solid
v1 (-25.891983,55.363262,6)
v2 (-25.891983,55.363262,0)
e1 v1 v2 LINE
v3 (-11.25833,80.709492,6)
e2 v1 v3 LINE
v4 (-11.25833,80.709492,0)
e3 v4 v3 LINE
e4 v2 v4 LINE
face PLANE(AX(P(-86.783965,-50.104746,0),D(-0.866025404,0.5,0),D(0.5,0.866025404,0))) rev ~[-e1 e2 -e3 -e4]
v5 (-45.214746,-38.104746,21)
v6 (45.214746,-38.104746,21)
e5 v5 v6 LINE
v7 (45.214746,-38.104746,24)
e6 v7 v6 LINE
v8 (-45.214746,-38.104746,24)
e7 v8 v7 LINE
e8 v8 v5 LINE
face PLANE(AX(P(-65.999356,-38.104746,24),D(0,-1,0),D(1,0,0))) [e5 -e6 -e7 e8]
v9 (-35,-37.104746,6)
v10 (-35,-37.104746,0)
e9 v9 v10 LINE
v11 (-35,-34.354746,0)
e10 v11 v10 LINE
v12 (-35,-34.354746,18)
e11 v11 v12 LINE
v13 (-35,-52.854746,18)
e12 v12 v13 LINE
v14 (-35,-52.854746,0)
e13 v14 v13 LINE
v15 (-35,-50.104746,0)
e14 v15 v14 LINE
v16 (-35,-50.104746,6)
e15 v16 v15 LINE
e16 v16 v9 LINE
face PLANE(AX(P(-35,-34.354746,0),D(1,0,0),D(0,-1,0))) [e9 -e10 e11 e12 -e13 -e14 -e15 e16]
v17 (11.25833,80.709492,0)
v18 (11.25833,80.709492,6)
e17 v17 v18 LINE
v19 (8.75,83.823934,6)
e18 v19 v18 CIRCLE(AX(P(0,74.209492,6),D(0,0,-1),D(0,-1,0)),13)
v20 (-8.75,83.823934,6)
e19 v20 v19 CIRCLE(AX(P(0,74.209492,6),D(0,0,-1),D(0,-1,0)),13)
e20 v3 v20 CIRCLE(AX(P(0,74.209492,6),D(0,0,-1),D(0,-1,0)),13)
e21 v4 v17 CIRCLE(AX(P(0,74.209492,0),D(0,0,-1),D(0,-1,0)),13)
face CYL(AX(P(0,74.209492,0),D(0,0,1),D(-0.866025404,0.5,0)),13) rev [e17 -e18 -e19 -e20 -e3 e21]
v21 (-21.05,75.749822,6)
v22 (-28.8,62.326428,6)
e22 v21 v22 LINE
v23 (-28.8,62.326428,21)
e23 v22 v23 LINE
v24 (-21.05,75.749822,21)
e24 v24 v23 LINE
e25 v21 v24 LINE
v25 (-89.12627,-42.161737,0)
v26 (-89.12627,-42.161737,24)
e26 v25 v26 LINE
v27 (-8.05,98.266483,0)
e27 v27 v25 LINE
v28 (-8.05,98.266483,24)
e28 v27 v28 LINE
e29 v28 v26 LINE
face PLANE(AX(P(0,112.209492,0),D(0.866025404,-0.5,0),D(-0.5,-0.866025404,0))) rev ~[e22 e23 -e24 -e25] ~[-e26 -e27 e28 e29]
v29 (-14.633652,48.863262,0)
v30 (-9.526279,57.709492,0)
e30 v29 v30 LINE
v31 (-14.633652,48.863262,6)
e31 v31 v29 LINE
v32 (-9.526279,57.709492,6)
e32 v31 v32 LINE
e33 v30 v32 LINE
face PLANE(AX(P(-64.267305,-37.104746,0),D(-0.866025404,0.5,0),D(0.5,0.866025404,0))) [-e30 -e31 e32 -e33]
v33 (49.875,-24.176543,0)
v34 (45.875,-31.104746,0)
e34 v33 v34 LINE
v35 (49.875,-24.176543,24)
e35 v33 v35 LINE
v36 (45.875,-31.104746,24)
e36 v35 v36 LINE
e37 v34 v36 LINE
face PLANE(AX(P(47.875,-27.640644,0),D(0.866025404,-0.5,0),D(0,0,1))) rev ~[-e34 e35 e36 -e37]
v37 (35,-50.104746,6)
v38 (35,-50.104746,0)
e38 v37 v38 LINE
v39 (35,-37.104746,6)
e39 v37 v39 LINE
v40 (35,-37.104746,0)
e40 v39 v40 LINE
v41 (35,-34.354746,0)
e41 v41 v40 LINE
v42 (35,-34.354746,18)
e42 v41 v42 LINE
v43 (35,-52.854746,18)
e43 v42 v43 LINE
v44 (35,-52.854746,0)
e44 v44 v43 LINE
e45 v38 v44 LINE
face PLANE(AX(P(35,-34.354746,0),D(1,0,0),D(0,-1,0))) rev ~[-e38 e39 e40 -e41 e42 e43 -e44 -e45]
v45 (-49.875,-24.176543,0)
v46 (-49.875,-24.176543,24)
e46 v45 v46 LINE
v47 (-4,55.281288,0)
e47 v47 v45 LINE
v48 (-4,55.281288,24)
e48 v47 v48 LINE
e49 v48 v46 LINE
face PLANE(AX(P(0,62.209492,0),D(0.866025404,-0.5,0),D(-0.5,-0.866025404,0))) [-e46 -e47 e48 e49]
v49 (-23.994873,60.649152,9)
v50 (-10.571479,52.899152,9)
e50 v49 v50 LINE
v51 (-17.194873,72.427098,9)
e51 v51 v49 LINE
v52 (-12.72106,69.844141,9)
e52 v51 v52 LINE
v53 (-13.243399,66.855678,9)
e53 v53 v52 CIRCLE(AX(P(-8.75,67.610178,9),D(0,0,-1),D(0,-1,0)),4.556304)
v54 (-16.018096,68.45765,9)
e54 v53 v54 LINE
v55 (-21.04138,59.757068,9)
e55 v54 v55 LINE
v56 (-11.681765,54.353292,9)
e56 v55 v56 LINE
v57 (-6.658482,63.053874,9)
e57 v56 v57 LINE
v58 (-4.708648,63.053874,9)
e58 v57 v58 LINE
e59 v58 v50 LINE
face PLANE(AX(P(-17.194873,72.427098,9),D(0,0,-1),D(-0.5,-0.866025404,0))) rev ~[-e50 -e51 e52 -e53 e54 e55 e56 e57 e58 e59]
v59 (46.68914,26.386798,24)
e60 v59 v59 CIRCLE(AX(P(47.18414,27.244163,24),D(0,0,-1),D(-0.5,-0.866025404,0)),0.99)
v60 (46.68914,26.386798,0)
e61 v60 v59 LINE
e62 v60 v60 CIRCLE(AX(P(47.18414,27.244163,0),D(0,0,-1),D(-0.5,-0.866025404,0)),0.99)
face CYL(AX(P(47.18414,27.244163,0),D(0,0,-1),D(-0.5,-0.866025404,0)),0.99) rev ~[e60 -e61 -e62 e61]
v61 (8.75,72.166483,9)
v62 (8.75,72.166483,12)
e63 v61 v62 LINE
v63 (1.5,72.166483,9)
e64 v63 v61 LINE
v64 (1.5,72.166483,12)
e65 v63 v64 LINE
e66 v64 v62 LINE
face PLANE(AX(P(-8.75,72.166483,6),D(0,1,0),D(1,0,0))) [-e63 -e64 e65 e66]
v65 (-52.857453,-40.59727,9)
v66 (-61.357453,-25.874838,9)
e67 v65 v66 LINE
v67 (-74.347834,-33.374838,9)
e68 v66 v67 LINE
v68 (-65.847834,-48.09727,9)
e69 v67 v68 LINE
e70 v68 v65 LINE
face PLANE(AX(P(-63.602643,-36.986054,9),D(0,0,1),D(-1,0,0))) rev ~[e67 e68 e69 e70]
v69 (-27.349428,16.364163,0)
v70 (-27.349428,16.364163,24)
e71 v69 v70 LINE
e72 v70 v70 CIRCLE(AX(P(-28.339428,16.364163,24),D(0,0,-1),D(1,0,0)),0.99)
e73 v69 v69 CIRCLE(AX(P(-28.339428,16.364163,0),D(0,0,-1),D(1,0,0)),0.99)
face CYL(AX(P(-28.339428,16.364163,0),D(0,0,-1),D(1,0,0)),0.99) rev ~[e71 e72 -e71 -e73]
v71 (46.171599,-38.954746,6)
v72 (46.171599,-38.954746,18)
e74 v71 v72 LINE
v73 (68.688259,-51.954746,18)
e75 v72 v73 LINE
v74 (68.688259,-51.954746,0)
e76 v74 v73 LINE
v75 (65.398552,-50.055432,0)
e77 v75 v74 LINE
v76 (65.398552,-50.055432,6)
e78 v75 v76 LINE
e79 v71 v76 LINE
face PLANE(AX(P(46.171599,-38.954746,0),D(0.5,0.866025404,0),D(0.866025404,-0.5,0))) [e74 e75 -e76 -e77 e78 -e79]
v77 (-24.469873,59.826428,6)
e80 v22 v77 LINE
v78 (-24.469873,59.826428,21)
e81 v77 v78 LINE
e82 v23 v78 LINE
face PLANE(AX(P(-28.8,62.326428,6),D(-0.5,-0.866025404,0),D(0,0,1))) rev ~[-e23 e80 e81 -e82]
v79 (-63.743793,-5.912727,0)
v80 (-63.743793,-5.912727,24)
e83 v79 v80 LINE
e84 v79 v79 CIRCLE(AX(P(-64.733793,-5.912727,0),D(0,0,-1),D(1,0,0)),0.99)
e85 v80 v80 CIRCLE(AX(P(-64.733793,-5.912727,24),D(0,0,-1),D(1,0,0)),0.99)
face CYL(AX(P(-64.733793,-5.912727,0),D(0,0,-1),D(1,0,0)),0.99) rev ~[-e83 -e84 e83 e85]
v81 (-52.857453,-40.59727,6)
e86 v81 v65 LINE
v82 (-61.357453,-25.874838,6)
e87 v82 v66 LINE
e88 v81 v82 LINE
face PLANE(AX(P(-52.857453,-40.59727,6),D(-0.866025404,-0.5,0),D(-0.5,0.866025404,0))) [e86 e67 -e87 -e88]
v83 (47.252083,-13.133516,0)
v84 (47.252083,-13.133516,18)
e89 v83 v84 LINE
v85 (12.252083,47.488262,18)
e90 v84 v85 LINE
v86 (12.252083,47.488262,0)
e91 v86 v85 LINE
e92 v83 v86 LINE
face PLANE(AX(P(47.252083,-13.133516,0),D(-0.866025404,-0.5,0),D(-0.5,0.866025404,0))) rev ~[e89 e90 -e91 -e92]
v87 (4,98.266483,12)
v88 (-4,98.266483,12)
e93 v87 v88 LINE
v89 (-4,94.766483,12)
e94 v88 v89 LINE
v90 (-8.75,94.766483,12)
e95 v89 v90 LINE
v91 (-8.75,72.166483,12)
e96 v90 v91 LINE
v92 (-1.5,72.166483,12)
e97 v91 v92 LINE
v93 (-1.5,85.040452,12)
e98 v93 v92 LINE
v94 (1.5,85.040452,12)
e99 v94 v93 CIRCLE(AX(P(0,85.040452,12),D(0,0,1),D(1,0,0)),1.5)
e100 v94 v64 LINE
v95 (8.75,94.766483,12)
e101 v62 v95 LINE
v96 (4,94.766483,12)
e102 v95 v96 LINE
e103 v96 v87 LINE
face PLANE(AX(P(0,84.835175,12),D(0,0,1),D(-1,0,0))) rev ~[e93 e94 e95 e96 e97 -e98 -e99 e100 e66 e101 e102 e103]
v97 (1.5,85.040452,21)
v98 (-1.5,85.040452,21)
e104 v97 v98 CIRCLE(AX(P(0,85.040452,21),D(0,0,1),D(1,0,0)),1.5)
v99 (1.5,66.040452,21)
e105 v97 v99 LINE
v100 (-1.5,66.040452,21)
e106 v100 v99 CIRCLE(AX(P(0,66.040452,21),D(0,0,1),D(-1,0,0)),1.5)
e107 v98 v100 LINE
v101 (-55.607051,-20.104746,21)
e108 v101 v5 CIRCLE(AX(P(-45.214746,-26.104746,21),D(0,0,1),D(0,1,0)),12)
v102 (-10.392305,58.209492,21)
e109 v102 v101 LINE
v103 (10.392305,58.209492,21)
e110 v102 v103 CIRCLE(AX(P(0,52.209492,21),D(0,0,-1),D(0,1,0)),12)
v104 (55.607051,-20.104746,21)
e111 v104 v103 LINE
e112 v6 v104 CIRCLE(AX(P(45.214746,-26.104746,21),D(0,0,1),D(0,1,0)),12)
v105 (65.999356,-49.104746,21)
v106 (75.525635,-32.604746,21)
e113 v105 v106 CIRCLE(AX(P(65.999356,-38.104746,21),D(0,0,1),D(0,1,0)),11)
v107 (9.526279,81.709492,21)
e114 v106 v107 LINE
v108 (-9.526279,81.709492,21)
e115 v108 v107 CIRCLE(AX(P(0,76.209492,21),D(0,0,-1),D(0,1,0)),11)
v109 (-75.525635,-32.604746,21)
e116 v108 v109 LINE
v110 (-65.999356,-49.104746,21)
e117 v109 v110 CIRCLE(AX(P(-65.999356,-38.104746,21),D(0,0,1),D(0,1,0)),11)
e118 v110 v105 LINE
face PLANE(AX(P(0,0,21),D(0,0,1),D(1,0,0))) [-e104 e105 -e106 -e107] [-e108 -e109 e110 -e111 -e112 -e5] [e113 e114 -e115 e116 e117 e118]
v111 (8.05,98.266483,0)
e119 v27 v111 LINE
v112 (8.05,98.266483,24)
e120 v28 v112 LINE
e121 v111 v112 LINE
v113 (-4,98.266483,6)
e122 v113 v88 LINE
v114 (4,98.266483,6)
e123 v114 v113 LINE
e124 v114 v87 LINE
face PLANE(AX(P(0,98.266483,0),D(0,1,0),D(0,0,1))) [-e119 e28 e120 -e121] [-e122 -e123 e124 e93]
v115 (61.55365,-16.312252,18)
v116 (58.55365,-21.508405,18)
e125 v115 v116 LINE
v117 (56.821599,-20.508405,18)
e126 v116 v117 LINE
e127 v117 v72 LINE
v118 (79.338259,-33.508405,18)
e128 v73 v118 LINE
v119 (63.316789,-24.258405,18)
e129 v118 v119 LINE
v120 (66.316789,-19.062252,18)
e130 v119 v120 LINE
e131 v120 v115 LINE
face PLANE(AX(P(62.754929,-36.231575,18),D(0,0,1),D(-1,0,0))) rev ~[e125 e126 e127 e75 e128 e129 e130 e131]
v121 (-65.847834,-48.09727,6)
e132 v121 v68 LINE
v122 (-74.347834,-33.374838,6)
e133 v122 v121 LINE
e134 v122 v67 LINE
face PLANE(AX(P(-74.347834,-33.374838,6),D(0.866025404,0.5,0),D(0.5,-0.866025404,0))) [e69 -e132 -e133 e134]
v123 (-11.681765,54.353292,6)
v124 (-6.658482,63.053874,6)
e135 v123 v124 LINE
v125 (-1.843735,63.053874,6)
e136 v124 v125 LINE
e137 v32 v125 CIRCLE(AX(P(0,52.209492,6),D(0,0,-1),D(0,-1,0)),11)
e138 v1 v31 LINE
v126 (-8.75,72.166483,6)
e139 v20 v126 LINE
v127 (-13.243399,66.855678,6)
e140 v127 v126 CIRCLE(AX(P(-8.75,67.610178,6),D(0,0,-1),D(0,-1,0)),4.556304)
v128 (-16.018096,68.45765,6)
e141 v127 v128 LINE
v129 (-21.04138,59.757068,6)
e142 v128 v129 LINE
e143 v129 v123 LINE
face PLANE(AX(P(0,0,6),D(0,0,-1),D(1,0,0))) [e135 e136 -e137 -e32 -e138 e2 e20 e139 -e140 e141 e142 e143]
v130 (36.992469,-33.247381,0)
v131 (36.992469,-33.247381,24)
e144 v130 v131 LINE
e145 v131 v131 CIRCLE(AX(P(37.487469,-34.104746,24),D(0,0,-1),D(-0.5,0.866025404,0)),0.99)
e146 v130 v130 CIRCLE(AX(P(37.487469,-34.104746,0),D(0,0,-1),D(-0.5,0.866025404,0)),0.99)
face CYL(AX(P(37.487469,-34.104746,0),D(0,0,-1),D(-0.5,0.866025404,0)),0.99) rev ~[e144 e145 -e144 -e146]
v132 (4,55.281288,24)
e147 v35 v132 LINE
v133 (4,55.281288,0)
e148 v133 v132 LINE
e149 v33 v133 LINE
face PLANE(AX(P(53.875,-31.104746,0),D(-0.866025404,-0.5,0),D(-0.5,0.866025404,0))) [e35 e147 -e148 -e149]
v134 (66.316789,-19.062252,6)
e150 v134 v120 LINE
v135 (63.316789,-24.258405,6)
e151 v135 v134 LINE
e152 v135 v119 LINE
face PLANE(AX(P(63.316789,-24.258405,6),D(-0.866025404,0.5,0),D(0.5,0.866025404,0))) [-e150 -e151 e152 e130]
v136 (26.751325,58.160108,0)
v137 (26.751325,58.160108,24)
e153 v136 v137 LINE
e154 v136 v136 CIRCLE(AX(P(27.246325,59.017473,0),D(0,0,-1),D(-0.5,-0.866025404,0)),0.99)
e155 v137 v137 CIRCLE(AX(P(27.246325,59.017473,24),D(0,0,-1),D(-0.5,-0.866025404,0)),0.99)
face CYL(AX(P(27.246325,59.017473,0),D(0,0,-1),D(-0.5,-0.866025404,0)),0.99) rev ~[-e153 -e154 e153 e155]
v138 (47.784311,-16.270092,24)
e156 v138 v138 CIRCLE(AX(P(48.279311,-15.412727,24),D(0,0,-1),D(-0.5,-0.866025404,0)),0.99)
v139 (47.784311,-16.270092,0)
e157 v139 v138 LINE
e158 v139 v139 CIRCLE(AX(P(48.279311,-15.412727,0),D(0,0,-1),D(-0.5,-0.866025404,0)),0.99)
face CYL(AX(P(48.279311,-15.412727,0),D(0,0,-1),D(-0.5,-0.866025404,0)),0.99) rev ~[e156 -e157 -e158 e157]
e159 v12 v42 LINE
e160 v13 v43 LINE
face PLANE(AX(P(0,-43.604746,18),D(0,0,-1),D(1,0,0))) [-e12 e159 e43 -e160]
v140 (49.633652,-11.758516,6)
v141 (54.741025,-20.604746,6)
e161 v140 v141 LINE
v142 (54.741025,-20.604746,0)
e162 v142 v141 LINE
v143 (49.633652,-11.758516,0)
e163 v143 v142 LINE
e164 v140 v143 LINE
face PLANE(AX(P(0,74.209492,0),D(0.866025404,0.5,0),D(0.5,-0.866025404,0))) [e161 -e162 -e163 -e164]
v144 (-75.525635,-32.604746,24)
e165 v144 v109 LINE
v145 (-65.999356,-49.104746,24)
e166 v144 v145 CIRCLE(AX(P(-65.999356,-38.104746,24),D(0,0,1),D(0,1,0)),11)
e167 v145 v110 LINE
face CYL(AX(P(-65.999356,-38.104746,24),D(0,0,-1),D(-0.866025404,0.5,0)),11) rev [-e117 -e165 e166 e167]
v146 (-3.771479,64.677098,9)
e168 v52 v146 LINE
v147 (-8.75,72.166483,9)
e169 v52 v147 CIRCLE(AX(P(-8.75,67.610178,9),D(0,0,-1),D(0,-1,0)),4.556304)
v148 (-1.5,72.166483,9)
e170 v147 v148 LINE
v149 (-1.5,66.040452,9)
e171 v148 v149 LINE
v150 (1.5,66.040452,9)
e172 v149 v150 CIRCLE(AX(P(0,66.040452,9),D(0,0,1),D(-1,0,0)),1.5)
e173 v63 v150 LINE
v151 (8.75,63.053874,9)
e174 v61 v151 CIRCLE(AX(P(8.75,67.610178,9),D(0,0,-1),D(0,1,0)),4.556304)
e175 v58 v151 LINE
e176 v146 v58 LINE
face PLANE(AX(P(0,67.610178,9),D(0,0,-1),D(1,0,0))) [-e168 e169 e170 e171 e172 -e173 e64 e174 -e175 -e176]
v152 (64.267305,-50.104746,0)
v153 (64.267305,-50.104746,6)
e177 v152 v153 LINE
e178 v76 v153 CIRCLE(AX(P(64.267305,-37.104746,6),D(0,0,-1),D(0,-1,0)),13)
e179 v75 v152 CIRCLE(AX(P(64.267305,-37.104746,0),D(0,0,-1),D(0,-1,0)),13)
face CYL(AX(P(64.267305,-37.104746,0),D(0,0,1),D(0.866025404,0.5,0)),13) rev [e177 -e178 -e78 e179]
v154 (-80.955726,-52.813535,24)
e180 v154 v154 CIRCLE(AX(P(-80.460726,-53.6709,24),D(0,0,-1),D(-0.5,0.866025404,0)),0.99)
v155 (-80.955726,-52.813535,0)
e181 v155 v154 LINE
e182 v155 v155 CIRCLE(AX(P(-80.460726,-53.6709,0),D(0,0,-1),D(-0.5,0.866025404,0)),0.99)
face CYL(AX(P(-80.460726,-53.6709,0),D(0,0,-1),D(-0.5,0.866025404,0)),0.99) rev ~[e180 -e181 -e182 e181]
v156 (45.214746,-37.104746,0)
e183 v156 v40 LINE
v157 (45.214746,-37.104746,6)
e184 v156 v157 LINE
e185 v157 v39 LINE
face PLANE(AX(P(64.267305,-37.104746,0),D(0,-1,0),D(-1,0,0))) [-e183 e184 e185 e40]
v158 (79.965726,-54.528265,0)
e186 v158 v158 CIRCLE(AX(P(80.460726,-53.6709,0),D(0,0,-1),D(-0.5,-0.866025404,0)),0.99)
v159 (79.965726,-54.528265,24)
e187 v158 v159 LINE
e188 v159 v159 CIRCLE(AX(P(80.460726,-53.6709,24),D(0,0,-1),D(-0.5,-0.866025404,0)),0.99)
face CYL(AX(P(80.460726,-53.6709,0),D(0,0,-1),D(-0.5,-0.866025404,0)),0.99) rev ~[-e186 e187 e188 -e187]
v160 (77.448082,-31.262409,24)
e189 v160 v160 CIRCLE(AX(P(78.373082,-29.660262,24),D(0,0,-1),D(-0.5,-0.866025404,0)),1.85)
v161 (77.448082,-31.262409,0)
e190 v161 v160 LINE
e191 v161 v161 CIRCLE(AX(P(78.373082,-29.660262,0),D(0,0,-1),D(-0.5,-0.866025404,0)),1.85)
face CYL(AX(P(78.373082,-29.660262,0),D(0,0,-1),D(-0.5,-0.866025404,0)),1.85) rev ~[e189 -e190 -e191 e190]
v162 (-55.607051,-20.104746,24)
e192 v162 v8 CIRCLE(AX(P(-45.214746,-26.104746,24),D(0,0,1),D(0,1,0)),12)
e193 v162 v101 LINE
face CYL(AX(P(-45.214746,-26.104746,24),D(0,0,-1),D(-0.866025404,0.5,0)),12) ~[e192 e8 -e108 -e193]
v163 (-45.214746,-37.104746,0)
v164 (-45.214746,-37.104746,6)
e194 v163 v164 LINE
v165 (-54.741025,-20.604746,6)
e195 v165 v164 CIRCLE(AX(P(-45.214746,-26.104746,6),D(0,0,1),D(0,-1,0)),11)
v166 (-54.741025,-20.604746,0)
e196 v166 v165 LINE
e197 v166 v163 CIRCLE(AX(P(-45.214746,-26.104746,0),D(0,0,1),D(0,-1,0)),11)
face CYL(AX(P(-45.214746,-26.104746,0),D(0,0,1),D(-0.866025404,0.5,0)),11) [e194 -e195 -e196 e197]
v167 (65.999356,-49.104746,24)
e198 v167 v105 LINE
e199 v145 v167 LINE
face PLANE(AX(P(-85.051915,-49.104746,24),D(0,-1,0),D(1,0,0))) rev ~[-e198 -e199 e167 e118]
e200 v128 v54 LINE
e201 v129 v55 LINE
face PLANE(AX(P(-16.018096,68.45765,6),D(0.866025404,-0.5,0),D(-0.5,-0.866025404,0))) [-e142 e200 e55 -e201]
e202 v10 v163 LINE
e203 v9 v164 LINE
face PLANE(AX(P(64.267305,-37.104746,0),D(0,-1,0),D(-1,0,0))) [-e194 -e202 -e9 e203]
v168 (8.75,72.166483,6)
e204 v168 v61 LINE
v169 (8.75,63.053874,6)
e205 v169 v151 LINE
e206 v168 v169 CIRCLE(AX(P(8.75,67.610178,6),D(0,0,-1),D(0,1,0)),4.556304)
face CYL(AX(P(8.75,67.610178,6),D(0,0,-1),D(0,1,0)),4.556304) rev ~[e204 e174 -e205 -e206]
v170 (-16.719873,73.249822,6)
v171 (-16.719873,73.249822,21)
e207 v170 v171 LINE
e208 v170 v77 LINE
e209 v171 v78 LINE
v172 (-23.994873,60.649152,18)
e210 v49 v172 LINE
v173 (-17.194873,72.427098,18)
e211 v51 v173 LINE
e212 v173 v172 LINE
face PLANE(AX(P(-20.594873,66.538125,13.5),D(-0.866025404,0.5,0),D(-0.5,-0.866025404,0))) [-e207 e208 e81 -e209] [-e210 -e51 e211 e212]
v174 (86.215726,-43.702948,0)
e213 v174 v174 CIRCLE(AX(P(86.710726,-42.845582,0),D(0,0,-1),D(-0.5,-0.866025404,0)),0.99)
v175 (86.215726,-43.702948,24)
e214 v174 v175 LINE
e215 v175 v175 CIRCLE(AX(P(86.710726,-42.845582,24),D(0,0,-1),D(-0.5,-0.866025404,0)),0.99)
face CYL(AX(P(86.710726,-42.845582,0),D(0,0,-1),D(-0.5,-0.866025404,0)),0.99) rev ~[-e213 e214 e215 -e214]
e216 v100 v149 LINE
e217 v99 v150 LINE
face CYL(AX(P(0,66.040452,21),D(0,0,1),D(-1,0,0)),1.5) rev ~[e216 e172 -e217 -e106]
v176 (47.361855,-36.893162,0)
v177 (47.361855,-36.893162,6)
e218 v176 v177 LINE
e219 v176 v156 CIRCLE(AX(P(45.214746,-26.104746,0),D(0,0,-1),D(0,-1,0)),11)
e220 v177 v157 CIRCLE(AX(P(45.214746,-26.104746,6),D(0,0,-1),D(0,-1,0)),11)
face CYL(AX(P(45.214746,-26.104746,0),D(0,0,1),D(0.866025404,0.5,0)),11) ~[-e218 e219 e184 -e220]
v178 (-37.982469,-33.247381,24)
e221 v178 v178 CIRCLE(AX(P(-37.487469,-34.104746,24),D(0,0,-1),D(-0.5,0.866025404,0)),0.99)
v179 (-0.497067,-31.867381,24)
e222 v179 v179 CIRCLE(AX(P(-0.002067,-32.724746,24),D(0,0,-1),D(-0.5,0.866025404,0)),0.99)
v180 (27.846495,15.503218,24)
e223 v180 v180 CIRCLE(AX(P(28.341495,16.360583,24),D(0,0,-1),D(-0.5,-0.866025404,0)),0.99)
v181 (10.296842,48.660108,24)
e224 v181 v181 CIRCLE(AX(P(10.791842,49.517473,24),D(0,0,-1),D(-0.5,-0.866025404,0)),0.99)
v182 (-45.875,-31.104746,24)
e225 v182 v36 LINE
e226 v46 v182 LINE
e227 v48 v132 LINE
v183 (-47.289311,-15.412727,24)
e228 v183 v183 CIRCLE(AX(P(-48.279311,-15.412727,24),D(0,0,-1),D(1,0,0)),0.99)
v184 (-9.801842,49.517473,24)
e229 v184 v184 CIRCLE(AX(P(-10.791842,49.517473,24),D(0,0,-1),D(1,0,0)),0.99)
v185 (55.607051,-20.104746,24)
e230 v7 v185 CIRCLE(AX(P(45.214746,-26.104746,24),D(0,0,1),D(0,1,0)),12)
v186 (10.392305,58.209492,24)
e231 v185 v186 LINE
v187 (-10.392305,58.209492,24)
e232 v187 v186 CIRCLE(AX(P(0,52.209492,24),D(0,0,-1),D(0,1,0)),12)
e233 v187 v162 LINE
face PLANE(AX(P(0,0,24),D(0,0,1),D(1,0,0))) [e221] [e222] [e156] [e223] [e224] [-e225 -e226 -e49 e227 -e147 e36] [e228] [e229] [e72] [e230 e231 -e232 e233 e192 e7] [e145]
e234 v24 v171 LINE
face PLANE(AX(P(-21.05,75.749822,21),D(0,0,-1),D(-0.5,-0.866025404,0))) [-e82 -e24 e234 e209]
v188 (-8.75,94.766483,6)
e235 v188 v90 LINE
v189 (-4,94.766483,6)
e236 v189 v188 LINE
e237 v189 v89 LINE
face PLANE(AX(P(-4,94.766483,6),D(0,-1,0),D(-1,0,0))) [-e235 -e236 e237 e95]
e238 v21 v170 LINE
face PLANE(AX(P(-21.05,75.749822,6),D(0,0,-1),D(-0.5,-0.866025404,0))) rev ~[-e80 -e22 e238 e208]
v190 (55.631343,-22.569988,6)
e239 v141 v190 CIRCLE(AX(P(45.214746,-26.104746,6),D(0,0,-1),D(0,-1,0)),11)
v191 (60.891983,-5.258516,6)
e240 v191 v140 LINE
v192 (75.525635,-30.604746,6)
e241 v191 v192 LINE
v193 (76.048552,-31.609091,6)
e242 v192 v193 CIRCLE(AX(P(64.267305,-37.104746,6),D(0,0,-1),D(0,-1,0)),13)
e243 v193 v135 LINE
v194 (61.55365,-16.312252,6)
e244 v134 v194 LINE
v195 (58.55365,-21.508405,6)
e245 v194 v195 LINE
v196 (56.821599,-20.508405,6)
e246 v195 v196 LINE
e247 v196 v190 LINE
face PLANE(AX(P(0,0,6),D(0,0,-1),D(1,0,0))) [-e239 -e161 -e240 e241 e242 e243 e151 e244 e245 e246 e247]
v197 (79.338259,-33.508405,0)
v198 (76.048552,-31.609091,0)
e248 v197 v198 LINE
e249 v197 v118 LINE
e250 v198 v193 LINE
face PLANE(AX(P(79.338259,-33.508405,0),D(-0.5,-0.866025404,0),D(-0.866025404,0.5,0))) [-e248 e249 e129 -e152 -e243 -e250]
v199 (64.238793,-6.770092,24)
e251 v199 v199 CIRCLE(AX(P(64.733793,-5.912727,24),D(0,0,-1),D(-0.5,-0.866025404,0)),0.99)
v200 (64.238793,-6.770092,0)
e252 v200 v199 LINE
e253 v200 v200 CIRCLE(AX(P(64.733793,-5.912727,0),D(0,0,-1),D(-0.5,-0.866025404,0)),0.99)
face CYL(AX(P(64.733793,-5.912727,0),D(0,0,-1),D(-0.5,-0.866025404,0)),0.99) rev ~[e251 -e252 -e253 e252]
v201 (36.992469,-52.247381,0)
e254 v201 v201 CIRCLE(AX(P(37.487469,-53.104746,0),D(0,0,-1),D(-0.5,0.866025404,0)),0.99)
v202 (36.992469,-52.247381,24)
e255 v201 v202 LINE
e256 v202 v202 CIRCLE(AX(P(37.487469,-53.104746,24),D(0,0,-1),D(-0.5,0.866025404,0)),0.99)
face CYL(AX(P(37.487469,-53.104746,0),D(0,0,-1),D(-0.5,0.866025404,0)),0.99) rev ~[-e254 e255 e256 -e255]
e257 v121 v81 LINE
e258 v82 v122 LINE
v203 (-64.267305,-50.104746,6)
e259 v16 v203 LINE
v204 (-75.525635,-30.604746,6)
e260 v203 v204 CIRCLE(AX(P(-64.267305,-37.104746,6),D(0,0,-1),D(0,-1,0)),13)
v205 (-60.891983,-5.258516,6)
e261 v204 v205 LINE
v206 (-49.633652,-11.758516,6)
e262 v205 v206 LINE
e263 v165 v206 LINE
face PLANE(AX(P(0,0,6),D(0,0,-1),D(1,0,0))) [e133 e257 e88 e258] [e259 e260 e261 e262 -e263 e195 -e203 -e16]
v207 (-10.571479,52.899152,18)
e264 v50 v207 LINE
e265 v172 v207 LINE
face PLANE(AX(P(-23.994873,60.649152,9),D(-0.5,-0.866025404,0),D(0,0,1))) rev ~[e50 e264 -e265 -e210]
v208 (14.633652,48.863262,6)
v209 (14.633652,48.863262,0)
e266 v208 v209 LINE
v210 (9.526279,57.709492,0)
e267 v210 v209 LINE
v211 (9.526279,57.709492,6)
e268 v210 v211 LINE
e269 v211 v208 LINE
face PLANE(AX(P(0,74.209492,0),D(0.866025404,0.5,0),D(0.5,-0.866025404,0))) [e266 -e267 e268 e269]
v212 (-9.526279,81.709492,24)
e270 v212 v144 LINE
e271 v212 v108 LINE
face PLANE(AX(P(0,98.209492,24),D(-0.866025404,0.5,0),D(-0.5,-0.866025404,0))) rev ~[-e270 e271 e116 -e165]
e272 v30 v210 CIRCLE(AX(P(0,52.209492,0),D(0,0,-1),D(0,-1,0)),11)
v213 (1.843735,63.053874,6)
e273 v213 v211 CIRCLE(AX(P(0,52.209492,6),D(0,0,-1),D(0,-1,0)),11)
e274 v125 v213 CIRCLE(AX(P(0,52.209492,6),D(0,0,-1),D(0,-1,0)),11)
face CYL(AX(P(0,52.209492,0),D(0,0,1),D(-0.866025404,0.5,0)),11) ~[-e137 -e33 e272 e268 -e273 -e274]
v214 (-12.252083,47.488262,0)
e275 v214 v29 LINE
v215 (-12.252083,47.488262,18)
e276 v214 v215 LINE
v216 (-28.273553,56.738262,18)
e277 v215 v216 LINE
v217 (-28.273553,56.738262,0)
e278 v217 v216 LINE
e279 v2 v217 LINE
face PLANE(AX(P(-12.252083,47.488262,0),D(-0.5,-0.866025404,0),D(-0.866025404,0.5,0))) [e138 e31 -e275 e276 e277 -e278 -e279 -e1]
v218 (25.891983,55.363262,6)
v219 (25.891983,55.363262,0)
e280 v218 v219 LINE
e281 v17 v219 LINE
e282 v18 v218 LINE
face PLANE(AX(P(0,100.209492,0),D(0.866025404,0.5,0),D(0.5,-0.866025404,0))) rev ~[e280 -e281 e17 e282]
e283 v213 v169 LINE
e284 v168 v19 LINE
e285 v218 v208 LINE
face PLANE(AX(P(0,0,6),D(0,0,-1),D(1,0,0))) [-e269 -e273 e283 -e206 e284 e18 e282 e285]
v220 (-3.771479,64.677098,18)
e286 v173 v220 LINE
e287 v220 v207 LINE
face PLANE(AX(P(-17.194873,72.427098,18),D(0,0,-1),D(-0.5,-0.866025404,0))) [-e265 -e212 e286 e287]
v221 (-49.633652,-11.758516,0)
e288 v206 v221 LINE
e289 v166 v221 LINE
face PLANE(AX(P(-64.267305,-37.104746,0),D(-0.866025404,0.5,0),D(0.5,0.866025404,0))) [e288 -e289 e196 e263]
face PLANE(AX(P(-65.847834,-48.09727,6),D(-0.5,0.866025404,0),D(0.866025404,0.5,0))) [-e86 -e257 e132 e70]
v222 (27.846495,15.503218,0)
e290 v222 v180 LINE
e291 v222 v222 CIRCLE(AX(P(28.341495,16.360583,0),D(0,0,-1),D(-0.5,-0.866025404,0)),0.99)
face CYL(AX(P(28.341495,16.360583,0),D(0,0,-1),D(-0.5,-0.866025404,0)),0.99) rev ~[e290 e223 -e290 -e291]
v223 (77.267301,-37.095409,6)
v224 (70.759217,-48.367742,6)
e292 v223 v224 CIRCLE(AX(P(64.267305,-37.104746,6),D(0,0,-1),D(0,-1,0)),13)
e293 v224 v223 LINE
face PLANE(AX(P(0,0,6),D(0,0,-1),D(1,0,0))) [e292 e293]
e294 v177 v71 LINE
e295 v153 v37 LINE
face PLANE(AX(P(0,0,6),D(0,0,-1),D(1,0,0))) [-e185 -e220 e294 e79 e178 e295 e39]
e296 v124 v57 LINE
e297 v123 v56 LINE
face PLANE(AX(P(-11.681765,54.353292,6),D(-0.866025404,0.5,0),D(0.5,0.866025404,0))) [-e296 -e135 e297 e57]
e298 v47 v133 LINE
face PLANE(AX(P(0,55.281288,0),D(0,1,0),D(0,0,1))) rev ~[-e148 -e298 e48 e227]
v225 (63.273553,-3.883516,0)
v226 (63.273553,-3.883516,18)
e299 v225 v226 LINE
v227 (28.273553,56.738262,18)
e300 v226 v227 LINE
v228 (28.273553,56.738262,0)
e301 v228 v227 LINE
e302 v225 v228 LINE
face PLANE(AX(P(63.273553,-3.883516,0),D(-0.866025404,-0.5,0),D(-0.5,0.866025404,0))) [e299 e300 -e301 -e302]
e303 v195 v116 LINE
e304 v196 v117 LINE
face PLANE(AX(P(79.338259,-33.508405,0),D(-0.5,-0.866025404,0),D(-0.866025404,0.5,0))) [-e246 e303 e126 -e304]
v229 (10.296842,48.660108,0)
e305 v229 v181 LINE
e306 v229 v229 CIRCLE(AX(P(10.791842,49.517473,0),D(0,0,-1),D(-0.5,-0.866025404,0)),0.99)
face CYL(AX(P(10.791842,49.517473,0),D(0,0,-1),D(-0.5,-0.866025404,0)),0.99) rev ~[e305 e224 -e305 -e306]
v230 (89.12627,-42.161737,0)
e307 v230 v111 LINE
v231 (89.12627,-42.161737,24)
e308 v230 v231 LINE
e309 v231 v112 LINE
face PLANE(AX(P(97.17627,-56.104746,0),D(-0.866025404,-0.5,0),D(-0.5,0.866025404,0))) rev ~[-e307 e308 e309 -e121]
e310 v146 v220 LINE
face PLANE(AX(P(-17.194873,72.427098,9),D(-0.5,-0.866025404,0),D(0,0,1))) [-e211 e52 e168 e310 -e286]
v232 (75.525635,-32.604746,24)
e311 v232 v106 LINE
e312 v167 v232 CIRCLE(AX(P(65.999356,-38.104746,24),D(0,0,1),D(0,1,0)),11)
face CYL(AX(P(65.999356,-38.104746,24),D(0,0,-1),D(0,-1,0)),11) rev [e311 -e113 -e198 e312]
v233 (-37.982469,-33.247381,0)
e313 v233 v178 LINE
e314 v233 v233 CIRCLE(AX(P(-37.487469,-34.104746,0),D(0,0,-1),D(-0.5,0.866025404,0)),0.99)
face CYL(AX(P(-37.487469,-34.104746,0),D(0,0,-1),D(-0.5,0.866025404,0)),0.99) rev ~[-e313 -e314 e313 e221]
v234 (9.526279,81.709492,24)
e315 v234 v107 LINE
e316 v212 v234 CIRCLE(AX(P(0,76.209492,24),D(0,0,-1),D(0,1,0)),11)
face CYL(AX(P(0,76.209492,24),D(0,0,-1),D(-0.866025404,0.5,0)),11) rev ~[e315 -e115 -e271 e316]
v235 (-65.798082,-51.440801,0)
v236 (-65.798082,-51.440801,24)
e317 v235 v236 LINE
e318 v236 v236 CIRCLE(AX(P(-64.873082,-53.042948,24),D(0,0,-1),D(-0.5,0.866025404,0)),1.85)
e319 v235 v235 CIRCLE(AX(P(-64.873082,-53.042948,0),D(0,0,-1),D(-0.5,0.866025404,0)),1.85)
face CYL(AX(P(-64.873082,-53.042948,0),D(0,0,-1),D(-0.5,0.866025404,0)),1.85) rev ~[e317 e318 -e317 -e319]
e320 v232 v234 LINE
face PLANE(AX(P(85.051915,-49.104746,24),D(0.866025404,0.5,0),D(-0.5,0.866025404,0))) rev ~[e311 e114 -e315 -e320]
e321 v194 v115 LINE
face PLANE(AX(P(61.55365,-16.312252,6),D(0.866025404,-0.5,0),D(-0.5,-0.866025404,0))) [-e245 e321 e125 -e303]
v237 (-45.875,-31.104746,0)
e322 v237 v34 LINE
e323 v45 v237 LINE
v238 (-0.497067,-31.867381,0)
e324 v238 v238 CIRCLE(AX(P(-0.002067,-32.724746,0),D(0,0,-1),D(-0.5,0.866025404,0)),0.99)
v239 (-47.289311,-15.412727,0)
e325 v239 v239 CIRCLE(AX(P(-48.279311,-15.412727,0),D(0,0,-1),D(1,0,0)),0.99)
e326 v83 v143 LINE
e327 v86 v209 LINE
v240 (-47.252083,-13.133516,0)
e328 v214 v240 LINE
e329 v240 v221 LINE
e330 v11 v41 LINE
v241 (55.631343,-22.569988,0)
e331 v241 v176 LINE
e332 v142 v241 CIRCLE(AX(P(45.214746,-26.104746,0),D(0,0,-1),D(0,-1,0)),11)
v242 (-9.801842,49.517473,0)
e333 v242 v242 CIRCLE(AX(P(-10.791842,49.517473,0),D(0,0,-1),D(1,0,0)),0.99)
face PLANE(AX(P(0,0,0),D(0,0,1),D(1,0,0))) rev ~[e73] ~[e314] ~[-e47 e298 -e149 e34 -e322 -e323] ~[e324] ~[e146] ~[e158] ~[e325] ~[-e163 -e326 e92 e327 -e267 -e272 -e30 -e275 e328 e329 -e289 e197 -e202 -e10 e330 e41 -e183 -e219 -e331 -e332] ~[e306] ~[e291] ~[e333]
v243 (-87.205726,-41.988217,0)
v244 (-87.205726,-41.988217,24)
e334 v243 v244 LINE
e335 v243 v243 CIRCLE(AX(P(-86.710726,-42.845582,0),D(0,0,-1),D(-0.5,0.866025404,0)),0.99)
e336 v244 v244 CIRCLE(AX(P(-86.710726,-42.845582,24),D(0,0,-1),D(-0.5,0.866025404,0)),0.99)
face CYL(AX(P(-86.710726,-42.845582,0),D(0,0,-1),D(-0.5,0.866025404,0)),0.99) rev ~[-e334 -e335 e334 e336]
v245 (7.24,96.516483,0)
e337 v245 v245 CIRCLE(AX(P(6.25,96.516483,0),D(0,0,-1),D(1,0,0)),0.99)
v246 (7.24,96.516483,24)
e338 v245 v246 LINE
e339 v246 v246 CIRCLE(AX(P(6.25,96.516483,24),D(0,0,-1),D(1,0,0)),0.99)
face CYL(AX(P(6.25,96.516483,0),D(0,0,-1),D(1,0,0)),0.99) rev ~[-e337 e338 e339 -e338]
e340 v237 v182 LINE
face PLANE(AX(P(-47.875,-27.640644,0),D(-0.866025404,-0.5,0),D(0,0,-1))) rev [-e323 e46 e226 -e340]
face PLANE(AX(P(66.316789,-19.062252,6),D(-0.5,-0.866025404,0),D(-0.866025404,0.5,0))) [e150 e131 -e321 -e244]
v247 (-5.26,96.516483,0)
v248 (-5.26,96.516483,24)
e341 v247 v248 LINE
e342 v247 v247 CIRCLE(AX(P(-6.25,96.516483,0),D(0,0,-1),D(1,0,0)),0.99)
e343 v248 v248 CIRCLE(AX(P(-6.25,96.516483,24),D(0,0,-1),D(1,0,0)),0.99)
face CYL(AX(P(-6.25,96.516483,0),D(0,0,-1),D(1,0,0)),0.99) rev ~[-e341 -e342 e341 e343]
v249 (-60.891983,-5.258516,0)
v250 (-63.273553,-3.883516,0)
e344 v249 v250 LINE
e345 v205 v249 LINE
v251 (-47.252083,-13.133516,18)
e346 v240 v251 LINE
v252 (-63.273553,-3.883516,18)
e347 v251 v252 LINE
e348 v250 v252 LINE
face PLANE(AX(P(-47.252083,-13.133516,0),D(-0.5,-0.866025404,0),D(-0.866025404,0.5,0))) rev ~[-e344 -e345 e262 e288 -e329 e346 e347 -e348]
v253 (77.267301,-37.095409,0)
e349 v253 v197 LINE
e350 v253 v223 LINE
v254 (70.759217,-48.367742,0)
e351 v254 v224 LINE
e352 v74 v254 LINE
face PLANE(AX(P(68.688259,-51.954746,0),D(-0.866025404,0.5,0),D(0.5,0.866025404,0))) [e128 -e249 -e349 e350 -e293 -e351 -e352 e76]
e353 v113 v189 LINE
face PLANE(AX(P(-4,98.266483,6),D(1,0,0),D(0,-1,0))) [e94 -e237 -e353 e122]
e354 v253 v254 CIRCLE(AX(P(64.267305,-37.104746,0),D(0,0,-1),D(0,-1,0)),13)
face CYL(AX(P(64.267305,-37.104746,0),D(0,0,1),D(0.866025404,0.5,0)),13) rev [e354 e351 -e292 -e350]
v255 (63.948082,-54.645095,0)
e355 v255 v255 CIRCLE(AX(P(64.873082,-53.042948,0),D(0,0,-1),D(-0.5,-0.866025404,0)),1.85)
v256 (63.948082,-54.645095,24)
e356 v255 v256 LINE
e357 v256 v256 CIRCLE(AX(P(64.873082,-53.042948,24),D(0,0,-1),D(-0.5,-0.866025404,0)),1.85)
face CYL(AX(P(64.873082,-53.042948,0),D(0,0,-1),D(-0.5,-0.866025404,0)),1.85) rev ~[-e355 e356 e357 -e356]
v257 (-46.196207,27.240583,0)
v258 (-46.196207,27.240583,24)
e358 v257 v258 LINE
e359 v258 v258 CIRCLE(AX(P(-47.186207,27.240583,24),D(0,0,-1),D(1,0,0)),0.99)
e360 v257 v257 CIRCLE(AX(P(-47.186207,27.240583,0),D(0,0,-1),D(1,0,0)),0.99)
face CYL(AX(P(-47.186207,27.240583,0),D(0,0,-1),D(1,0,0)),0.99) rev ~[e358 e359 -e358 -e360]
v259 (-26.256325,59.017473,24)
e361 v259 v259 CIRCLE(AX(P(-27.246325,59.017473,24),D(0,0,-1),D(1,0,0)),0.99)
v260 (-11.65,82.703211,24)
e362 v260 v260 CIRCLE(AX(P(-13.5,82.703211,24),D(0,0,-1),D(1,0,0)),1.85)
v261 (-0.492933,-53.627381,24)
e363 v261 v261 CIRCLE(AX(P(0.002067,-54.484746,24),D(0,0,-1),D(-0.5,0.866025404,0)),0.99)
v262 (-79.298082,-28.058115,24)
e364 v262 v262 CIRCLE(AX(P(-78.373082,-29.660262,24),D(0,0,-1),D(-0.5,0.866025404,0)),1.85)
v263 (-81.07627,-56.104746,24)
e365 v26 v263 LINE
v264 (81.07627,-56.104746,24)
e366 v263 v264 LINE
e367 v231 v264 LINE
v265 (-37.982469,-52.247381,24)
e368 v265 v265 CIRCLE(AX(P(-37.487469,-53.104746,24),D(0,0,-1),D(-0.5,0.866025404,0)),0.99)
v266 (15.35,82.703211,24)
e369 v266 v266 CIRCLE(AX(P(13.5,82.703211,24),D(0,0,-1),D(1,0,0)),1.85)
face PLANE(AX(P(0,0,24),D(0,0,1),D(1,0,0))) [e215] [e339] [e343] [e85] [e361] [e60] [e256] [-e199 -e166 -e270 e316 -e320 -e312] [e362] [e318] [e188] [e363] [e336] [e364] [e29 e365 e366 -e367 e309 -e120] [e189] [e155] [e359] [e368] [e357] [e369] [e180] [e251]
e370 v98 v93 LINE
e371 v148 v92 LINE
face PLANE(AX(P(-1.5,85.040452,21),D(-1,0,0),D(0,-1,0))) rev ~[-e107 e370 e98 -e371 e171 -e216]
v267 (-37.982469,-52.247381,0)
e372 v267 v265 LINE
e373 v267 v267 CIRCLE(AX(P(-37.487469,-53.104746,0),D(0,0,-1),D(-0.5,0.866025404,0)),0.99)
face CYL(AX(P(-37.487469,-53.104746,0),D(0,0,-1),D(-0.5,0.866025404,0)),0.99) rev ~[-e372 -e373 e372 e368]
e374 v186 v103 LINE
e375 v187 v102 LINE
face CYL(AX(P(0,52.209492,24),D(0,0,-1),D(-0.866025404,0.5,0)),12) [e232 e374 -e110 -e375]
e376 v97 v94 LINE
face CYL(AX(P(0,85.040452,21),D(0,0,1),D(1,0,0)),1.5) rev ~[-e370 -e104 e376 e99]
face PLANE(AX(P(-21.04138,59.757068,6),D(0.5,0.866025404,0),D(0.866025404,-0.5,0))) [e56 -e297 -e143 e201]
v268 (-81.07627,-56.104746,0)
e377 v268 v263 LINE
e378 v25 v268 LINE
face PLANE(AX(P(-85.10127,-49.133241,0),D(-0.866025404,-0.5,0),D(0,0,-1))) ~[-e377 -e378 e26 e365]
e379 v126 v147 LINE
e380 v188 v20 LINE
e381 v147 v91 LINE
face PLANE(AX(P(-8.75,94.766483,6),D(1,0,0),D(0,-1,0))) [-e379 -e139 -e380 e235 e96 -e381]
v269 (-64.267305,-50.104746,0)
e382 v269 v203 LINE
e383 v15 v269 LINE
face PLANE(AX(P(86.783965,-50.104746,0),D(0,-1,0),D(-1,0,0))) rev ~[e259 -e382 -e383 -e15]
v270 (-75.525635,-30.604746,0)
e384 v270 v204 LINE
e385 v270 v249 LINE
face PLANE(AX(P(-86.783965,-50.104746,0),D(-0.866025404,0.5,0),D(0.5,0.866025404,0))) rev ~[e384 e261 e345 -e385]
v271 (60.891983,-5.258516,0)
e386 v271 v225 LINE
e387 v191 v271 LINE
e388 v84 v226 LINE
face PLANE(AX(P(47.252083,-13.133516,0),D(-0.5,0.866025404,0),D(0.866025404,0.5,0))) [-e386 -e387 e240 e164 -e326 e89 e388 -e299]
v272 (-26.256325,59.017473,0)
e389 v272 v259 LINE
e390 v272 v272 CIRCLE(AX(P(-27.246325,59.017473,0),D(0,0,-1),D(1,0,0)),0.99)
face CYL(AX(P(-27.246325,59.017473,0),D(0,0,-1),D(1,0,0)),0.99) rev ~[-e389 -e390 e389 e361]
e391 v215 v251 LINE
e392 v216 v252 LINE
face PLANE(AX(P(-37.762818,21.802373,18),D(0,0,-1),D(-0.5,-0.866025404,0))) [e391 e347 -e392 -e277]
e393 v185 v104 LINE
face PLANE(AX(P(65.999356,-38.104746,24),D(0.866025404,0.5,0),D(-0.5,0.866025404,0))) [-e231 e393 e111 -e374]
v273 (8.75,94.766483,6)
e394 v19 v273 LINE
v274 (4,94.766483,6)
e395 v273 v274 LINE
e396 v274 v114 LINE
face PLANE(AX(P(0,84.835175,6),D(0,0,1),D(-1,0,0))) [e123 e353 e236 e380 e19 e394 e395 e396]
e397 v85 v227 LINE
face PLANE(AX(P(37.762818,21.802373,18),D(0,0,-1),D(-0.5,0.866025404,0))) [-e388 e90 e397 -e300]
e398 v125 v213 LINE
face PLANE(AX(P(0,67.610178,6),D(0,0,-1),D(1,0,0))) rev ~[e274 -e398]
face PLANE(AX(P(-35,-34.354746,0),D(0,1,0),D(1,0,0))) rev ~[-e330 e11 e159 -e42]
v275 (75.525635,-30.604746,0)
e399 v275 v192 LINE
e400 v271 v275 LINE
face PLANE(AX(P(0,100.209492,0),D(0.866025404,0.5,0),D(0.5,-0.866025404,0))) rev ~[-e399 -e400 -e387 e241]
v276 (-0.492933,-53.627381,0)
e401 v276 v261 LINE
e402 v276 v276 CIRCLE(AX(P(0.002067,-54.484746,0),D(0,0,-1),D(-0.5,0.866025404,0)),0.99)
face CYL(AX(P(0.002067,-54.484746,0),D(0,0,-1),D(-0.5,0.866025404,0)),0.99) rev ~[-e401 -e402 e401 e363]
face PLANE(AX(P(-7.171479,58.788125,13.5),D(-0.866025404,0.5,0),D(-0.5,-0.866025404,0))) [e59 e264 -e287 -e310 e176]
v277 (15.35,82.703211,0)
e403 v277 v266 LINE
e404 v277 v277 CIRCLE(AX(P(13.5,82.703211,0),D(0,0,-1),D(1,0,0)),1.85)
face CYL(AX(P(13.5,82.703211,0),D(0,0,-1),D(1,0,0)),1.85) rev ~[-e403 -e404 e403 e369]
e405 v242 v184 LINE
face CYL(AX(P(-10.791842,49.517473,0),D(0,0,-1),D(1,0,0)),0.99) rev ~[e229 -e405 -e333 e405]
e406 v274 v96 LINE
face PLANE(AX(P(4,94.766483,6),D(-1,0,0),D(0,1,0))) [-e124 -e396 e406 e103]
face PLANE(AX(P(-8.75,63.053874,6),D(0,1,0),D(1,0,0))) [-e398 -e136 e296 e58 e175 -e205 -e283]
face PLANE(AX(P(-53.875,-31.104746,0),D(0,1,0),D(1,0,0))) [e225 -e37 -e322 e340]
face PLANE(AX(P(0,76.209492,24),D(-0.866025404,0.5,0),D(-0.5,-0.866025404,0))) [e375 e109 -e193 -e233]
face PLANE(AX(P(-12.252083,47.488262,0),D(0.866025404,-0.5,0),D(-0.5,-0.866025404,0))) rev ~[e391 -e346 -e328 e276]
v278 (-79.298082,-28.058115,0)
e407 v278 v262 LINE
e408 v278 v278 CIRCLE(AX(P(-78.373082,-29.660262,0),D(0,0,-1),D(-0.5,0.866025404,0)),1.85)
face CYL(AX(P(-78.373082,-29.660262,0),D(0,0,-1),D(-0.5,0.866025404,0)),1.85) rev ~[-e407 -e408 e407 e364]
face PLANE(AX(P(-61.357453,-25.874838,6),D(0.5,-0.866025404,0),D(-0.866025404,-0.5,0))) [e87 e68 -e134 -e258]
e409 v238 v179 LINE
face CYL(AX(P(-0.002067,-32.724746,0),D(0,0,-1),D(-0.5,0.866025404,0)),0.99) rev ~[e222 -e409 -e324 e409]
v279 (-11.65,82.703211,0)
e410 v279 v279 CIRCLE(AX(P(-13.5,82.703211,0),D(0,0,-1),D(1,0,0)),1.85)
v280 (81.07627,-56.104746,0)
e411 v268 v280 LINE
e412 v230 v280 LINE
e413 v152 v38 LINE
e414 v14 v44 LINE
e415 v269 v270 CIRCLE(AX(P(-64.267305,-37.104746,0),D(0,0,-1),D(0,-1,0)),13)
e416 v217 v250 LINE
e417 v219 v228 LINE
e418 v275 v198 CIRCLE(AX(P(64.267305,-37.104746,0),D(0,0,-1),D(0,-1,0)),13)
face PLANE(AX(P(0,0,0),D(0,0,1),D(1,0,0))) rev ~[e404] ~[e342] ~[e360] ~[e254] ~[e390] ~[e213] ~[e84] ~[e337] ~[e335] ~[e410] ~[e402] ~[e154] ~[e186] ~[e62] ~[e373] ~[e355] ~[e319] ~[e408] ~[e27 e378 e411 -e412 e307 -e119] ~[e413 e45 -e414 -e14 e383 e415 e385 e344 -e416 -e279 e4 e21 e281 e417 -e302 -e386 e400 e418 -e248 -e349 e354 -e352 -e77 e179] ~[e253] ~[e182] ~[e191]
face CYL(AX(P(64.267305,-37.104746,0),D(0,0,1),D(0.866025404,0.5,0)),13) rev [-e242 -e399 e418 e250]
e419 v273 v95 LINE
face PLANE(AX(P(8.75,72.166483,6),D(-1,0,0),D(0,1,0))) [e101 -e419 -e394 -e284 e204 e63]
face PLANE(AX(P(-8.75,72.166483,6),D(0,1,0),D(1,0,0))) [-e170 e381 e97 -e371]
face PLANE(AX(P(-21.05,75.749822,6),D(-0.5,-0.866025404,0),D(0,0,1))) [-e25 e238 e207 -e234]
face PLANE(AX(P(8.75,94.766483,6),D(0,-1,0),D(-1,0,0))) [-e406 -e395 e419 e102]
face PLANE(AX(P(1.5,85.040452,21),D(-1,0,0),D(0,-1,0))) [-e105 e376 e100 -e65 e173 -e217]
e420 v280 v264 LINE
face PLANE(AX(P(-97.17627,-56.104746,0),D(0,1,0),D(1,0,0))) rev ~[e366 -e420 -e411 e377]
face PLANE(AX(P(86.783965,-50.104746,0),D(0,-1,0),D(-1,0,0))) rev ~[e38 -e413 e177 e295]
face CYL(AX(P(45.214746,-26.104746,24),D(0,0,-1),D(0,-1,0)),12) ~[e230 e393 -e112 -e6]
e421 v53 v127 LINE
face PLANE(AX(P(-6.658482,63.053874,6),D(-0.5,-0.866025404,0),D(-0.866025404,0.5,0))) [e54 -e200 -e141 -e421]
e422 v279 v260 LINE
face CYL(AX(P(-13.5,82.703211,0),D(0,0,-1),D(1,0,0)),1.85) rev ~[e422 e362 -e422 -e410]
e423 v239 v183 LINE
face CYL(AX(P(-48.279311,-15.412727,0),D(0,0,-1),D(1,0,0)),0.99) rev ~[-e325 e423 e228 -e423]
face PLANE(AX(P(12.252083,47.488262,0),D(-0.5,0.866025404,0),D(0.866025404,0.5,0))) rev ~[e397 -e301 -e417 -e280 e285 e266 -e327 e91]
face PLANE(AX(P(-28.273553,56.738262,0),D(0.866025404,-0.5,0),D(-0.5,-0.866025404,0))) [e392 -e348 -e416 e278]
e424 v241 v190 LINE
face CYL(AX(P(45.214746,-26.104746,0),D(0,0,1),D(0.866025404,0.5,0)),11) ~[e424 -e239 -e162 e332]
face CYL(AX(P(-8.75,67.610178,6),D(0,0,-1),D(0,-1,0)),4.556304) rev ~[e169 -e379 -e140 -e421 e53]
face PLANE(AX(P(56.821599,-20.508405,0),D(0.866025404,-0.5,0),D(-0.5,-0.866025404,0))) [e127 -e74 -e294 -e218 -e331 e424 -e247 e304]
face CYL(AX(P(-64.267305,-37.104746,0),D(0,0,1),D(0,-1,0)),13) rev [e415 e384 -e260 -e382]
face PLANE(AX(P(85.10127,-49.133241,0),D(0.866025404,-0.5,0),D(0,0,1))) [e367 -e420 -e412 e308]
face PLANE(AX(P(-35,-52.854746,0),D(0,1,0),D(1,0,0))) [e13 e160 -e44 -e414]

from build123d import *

# Parameters (mm, degrees)
PAD_DEPTH             = 24
POCKET_DEPTH          = 3
SKETCH002_W           = 70
SKETCH002_H           = 18.5
POCKET001_DEPTH       = 18
POLARPATTERN_COUNT    = 3
POCKET002_DEPTH       = 6
CHAMFER_SIZE          = 8
FILLET_R              = 13
FILLET001_R           = 11
CHAMFER001_SIZE       = 16.1
FILLET002_R           = 11
FILLET003_R           = 12
POCKET003_DEPTH       = 6
POCKET004_DEPTH       = 18
POCKET005_DEPTH       = 21.001
SKETCH007_W           = 15.5
SKETCH007_H           = 15
POCKET006_DEPTH       = 5
SKETCH010_W           = 13.6
SKETCH010_H           = 9
POCKET009_DEPTH       = 15.5
POCKET010_DEPTH       = 3
SKETCH012_R           = 1.85
SKETCH012_R_2         = 0.99
POCKET011_DEPTH       = 498.0492855781
POLARPATTERN001_COUNT = 3
POCKET012_DEPTH       = 12
POCKET013_DEPTH       = 3
POCKET014_DEPTH       = 3


with BuildPart() as part:
    # Sketch → Pad (new body)
    with BuildSketch(Plane.XY):
        Polygon((0, 112.2094915052), (-97.1762701892, -56.1047457526), (97.1762701892, -56.1047457526), align=None)
        Polygon((0, 62.2094915052), (-53.875, -31.1047457526), (53.875, -31.1047457526), align=None, mode=Mode.SUBTRACT)
    extrude(amount=PAD_DEPTH)

    # Sketch001 (on Face8 of Pad) → Pocket (cut)
    with BuildSketch(Plane.XY.offset(24)):
        Polygon((0, 98.2094915052), (-85.0519145362, -49.1047457526), (85.0519145362, -49.1047457526), align=None)
        Polygon((0, 76.2094915052), (-65.999355653, -38.1047457526), (65.999355653, -38.1047457526), align=None, mode=Mode.SUBTRACT)
    extrude(amount=-POCKET_DEPTH, mode=Mode.SUBTRACT)

    # Sketch002 (on Face4 of Pocket) → Pocket001 (cut)
    with BuildSketch(Plane(origin=(0, 0, 0), x_dir=(1, 0, 0), z_dir=(0, 0, -1))):
        with Locations((0, 43.6047457526)):
            Rectangle(SKETCH002_W, SKETCH002_H)
    pocket001 = extrude(amount=-POCKET001_DEPTH, mode=Mode.SUBTRACT)

    # PolarPattern: Pocket001 ×3 about axis
    polarpattern_axis = Axis((0, 0, 0), (0, 0, -1))
    for i in range(1, POLARPATTERN_COUNT):
        add(pocket001.rotate(polarpattern_axis, i * 360 / POLARPATTERN_COUNT), mode=Mode.SUBTRACT)

    # Sketch003 (on Face4 of PolarPattern) → Pocket002 (cut)
    with BuildSketch(Plane(origin=(0, 0, 0), x_dir=(1, 0, 0), z_dir=(0, 0, -1))):
        Polygon((0, -100.2094915052), (86.7839653438, 50.1047457526), (-86.7839653438, 50.1047457526), align=None)
        Polygon((0, -74.2094915052), (64.2673048454, 37.1047457526), (-64.2673048454, 37.1047457526), align=None, mode=Mode.SUBTRACT)
    extrude(amount=-POCKET002_DEPTH, mode=Mode.SUBTRACT)

    # Chamfer
    chamfer_edges = [part.edges().sort_by_distance(p)[0] for p in [
        (-53.875, -31.104746, 12),
        (53.875, -31.104746, 12),
        (0, 62.209492, 12),
    ]]
    chamfer(chamfer_edges, length=CHAMFER_SIZE)

    # Fillet
    fillet_edges = [part.edges().sort_by_distance(p)[0] for p in [
        (0, 100.209492, 3),
        (-86.783965, -50.104746, 3),
        (86.783965, -50.104746, 3),
    ]]
    fillet(fillet_edges, radius=FILLET_R)

    # Fillet001
    fillet001_edges = [part.edges().sort_by_distance(p)[0] for p in [
        (0, 74.209492, 3),
        (64.267305, -37.104746, 3),
        (-64.267305, -37.104746, 3),
    ]]
    fillet(fillet001_edges, radius=FILLET001_R)

    # Chamfer001
    chamfer001_edges = [part.edges().sort_by_distance(p)[0] for p in [
        (97.17627, -56.104746, 12),
        (0, 112.209492, 12),
        (-97.17627, -56.104746, 12),
    ]]
    chamfer(chamfer001_edges, length=CHAMFER001_SIZE)

    # Fillet002
    fillet002_edges = [part.edges().sort_by_distance(p)[0] for p in [
        (0, 98.209492, 22.5),
        (-85.051915, -49.104746, 22.5),
        (85.051915, -49.104746, 22.5),
    ]]
    fillet(fillet002_edges, radius=FILLET002_R)

    # Fillet003
    fillet003_edges = [part.edges().sort_by_distance(p)[0] for p in [
        (65.999356, -38.104746, 22.5),
        (0, 76.209492, 22.5),
        (-65.999356, -38.104746, 22.5),
    ]]
    fillet(fillet003_edges, radius=FILLET003_R)

    # Sketch004 (on Face60 of Fillet003) → Pocket003 (cut)
    with BuildSketch(Plane(origin=(0, 0, 6), x_dir=(1, 0, 0), z_dir=(0, 0, -1))):
        Polygon((-8.75, -72.1664825043), (8.75, -72.1664825043), (8.75, -94.7664825043), (4, -94.7664825043), (4, -98.2664825043), (-4, -98.2664825043), (-4, -94.7664825043), (-8.75, -94.7664825043), align=None)
    extrude(amount=-POCKET003_DEPTH, mode=Mode.SUBTRACT)

    # Sketch005 (on Face29 of Pocket003) → Pocket004 (cut)
    with BuildSketch(Plane(origin=(0, 0, 0), x_dir=(1, 0, 0), z_dir=(0, 0, -1))):
        Polygon((46.1715988394, 38.9547457526), (68.6882593378, 51.9547457526), (79.3382593378, 33.508404652), (56.8215988394, 20.508404652), align=None)
    extrude(amount=-POCKET004_DEPTH, mode=Mode.SUBTRACT)

    # Sketch006 (on Face1 of Pocket004) → Pocket005 (cut, through all)
    with BuildSketch(Plane.XY.offset(21)):
        with BuildLine():
            ThreePointArc((1.5, 85.0404521425), (0, 86.5404521425), (-1.5, 85.0404521425))
            Line((-1.5, 85.0404521425), (-1.5, 66.0404521425))
            ThreePointArc((-1.5, 66.0404521425), (0, 64.5404521425), (1.5, 66.0404521425))
            Line((1.5, 85.0404521425), (1.5, 66.0404521425))
        make_face()
    extrude(amount=-POCKET005_DEPTH, mode=Mode.SUBTRACT)

    # Sketch007 (on Face24 of Pocket005) → Pocket006 (cut)
    with BuildSketch(Plane(origin=(-48.5881350946, 28.0523728763, 0), x_dir=(-0.5, -0.8660254038, 0), z_dir=(-0.8660254038, 0.5, 0))):
        with Locations((-47.3262701892, 13.5)):
            Rectangle(SKETCH007_W, SKETCH007_H)
    extrude(amount=-POCKET006_DEPTH, mode=Mode.SUBTRACT)

    # Sketch010 (on Face79 of Pocket006) → Pocket009 (cut)
    with BuildSketch(Plane(origin=(-44.2580080757, 25.5523728763, 0), x_dir=(-0.5, -0.8660254038, 0), z_dir=(-0.8660254038, 0.5, 0))):
        with Locations((-47.3262701892, 13.5)):
            Rectangle(SKETCH010_W, SKETCH010_H)
    extrude(amount=-POCKET009_DEPTH, mode=Mode.SUBTRACT)

    # Sketch011 (on Face21 of Pocket009) → Pocket010 (cut)
    with BuildSketch(Plane(origin=(0, 0, 6), x_dir=(1, 0, 0), z_dir=(0, 0, -1))):
        Polygon((-21.0413798427, -59.7570681827), (-11.6817654684, -54.3532923042), (-6.658482036, -63.0538744299), (-16.0180964103, -68.4576503084), align=None)
    extrude(amount=-POCKET010_DEPTH, mode=Mode.SUBTRACT)

    # Sketch012 (on Face54 of Pocket010) → Pocket011 (cut, through all)
    with BuildSketch(Plane(origin=(0, 0, 0), x_dir=(1, 0, 0), z_dir=(0, 0, -1))):
        with Locations((-13.5, -82.7032108255)):
            Circle(SKETCH012_R)
        with Locations((13.5, -82.7032108255)):
            Circle(SKETCH012_R)
        with Locations((-6.25, -96.5164825043)):
            Circle(SKETCH012_R_2)
        with Locations((6.25, -96.5164825043)):
            Circle(SKETCH012_R_2)
        with Locations((-27.2463245869, -59.0174730012)):
            Circle(SKETCH012_R_2)
        with Locations((-47.1862074814, -27.2405827309)):
            Circle(SKETCH012_R_2)
        with Locations((-64.7337931796, 5.9127272486)):
            Circle(SKETCH012_R_2)
        with Locations((-10.791841915, -49.5174730012)):
            Circle(SKETCH012_R_2)
        with Locations((-28.3394276132, -16.3641630217)):
            Circle(SKETCH012_R_2)
        with Locations((-48.2793105078, 15.4127272487)):
            Circle(SKETCH012_R_2)
    pocket011 = extrude(amount=-POCKET011_DEPTH, mode=Mode.SUBTRACT)

    # PolarPattern001: Pocket011 ×3 about axis
    polarpattern001_axis = Axis((0, 0, 0), (0, 0, -1))
    for i in range(1, POLARPATTERN001_COUNT):
        add(pocket011.rotate(polarpattern001_axis, i * 360 / POLARPATTERN001_COUNT), mode=Mode.SUBTRACT)

    # Sketch013 (on Face132 of PolarPattern001) → Pocket012 (cut)
    with BuildSketch(Plane(origin=(0, 0, 6), x_dir=(1, 0, 0), z_dir=(0, 0, -1))):
        Polygon((58.553649647, 21.508404652), (63.3167893678, 24.258404652), (66.3167893678, 19.0622522293), (61.553649647, 16.3122522293), align=None)
    extrude(amount=-POCKET012_DEPTH, mode=Mode.SUBTRACT)

    # Sketch014 (on Face127 of Pocket012) → Pocket013 (cut)
    with BuildSketch(Plane(origin=(0, 0, 6), x_dir=(1, 0, 0), z_dir=(0, 0, -1))):
        Polygon((-74.3478338252, 33.3748379063), (-65.8478338252, 48.0972697706), (-52.8574527684, 40.5972697706), (-61.3574527684, 25.8748379063), align=None)
    extrude(amount=-POCKET013_DEPTH, mode=Mode.SUBTRACT)

    # Sketch015 (on Face21 of Pocket013) → Pocket014 (cut)
    with BuildSketch(Plane(origin=(0, 0, 6), x_dir=(1, 0, 0), z_dir=(0, 0, -1))):
        with BuildLine():
            ThreePointArc((-8.75, -63.0538744299), (-13.3063040372, -67.6101784671), (-8.75, -72.1664825043))
            Line((-8.75, -72.1664825043), (8.75, -72.1664825043))
            ThreePointArc((8.75, -72.1664825043), (13.3063040372, -67.6101784671), (8.75, -63.0538744299))
            Line((-8.75, -63.0538744299), (8.75, -63.0538744299))
        make_face()
    extrude(amount=-POCKET014_DEPTH, mode=Mode.SUBTRACT)


solid = part.part
